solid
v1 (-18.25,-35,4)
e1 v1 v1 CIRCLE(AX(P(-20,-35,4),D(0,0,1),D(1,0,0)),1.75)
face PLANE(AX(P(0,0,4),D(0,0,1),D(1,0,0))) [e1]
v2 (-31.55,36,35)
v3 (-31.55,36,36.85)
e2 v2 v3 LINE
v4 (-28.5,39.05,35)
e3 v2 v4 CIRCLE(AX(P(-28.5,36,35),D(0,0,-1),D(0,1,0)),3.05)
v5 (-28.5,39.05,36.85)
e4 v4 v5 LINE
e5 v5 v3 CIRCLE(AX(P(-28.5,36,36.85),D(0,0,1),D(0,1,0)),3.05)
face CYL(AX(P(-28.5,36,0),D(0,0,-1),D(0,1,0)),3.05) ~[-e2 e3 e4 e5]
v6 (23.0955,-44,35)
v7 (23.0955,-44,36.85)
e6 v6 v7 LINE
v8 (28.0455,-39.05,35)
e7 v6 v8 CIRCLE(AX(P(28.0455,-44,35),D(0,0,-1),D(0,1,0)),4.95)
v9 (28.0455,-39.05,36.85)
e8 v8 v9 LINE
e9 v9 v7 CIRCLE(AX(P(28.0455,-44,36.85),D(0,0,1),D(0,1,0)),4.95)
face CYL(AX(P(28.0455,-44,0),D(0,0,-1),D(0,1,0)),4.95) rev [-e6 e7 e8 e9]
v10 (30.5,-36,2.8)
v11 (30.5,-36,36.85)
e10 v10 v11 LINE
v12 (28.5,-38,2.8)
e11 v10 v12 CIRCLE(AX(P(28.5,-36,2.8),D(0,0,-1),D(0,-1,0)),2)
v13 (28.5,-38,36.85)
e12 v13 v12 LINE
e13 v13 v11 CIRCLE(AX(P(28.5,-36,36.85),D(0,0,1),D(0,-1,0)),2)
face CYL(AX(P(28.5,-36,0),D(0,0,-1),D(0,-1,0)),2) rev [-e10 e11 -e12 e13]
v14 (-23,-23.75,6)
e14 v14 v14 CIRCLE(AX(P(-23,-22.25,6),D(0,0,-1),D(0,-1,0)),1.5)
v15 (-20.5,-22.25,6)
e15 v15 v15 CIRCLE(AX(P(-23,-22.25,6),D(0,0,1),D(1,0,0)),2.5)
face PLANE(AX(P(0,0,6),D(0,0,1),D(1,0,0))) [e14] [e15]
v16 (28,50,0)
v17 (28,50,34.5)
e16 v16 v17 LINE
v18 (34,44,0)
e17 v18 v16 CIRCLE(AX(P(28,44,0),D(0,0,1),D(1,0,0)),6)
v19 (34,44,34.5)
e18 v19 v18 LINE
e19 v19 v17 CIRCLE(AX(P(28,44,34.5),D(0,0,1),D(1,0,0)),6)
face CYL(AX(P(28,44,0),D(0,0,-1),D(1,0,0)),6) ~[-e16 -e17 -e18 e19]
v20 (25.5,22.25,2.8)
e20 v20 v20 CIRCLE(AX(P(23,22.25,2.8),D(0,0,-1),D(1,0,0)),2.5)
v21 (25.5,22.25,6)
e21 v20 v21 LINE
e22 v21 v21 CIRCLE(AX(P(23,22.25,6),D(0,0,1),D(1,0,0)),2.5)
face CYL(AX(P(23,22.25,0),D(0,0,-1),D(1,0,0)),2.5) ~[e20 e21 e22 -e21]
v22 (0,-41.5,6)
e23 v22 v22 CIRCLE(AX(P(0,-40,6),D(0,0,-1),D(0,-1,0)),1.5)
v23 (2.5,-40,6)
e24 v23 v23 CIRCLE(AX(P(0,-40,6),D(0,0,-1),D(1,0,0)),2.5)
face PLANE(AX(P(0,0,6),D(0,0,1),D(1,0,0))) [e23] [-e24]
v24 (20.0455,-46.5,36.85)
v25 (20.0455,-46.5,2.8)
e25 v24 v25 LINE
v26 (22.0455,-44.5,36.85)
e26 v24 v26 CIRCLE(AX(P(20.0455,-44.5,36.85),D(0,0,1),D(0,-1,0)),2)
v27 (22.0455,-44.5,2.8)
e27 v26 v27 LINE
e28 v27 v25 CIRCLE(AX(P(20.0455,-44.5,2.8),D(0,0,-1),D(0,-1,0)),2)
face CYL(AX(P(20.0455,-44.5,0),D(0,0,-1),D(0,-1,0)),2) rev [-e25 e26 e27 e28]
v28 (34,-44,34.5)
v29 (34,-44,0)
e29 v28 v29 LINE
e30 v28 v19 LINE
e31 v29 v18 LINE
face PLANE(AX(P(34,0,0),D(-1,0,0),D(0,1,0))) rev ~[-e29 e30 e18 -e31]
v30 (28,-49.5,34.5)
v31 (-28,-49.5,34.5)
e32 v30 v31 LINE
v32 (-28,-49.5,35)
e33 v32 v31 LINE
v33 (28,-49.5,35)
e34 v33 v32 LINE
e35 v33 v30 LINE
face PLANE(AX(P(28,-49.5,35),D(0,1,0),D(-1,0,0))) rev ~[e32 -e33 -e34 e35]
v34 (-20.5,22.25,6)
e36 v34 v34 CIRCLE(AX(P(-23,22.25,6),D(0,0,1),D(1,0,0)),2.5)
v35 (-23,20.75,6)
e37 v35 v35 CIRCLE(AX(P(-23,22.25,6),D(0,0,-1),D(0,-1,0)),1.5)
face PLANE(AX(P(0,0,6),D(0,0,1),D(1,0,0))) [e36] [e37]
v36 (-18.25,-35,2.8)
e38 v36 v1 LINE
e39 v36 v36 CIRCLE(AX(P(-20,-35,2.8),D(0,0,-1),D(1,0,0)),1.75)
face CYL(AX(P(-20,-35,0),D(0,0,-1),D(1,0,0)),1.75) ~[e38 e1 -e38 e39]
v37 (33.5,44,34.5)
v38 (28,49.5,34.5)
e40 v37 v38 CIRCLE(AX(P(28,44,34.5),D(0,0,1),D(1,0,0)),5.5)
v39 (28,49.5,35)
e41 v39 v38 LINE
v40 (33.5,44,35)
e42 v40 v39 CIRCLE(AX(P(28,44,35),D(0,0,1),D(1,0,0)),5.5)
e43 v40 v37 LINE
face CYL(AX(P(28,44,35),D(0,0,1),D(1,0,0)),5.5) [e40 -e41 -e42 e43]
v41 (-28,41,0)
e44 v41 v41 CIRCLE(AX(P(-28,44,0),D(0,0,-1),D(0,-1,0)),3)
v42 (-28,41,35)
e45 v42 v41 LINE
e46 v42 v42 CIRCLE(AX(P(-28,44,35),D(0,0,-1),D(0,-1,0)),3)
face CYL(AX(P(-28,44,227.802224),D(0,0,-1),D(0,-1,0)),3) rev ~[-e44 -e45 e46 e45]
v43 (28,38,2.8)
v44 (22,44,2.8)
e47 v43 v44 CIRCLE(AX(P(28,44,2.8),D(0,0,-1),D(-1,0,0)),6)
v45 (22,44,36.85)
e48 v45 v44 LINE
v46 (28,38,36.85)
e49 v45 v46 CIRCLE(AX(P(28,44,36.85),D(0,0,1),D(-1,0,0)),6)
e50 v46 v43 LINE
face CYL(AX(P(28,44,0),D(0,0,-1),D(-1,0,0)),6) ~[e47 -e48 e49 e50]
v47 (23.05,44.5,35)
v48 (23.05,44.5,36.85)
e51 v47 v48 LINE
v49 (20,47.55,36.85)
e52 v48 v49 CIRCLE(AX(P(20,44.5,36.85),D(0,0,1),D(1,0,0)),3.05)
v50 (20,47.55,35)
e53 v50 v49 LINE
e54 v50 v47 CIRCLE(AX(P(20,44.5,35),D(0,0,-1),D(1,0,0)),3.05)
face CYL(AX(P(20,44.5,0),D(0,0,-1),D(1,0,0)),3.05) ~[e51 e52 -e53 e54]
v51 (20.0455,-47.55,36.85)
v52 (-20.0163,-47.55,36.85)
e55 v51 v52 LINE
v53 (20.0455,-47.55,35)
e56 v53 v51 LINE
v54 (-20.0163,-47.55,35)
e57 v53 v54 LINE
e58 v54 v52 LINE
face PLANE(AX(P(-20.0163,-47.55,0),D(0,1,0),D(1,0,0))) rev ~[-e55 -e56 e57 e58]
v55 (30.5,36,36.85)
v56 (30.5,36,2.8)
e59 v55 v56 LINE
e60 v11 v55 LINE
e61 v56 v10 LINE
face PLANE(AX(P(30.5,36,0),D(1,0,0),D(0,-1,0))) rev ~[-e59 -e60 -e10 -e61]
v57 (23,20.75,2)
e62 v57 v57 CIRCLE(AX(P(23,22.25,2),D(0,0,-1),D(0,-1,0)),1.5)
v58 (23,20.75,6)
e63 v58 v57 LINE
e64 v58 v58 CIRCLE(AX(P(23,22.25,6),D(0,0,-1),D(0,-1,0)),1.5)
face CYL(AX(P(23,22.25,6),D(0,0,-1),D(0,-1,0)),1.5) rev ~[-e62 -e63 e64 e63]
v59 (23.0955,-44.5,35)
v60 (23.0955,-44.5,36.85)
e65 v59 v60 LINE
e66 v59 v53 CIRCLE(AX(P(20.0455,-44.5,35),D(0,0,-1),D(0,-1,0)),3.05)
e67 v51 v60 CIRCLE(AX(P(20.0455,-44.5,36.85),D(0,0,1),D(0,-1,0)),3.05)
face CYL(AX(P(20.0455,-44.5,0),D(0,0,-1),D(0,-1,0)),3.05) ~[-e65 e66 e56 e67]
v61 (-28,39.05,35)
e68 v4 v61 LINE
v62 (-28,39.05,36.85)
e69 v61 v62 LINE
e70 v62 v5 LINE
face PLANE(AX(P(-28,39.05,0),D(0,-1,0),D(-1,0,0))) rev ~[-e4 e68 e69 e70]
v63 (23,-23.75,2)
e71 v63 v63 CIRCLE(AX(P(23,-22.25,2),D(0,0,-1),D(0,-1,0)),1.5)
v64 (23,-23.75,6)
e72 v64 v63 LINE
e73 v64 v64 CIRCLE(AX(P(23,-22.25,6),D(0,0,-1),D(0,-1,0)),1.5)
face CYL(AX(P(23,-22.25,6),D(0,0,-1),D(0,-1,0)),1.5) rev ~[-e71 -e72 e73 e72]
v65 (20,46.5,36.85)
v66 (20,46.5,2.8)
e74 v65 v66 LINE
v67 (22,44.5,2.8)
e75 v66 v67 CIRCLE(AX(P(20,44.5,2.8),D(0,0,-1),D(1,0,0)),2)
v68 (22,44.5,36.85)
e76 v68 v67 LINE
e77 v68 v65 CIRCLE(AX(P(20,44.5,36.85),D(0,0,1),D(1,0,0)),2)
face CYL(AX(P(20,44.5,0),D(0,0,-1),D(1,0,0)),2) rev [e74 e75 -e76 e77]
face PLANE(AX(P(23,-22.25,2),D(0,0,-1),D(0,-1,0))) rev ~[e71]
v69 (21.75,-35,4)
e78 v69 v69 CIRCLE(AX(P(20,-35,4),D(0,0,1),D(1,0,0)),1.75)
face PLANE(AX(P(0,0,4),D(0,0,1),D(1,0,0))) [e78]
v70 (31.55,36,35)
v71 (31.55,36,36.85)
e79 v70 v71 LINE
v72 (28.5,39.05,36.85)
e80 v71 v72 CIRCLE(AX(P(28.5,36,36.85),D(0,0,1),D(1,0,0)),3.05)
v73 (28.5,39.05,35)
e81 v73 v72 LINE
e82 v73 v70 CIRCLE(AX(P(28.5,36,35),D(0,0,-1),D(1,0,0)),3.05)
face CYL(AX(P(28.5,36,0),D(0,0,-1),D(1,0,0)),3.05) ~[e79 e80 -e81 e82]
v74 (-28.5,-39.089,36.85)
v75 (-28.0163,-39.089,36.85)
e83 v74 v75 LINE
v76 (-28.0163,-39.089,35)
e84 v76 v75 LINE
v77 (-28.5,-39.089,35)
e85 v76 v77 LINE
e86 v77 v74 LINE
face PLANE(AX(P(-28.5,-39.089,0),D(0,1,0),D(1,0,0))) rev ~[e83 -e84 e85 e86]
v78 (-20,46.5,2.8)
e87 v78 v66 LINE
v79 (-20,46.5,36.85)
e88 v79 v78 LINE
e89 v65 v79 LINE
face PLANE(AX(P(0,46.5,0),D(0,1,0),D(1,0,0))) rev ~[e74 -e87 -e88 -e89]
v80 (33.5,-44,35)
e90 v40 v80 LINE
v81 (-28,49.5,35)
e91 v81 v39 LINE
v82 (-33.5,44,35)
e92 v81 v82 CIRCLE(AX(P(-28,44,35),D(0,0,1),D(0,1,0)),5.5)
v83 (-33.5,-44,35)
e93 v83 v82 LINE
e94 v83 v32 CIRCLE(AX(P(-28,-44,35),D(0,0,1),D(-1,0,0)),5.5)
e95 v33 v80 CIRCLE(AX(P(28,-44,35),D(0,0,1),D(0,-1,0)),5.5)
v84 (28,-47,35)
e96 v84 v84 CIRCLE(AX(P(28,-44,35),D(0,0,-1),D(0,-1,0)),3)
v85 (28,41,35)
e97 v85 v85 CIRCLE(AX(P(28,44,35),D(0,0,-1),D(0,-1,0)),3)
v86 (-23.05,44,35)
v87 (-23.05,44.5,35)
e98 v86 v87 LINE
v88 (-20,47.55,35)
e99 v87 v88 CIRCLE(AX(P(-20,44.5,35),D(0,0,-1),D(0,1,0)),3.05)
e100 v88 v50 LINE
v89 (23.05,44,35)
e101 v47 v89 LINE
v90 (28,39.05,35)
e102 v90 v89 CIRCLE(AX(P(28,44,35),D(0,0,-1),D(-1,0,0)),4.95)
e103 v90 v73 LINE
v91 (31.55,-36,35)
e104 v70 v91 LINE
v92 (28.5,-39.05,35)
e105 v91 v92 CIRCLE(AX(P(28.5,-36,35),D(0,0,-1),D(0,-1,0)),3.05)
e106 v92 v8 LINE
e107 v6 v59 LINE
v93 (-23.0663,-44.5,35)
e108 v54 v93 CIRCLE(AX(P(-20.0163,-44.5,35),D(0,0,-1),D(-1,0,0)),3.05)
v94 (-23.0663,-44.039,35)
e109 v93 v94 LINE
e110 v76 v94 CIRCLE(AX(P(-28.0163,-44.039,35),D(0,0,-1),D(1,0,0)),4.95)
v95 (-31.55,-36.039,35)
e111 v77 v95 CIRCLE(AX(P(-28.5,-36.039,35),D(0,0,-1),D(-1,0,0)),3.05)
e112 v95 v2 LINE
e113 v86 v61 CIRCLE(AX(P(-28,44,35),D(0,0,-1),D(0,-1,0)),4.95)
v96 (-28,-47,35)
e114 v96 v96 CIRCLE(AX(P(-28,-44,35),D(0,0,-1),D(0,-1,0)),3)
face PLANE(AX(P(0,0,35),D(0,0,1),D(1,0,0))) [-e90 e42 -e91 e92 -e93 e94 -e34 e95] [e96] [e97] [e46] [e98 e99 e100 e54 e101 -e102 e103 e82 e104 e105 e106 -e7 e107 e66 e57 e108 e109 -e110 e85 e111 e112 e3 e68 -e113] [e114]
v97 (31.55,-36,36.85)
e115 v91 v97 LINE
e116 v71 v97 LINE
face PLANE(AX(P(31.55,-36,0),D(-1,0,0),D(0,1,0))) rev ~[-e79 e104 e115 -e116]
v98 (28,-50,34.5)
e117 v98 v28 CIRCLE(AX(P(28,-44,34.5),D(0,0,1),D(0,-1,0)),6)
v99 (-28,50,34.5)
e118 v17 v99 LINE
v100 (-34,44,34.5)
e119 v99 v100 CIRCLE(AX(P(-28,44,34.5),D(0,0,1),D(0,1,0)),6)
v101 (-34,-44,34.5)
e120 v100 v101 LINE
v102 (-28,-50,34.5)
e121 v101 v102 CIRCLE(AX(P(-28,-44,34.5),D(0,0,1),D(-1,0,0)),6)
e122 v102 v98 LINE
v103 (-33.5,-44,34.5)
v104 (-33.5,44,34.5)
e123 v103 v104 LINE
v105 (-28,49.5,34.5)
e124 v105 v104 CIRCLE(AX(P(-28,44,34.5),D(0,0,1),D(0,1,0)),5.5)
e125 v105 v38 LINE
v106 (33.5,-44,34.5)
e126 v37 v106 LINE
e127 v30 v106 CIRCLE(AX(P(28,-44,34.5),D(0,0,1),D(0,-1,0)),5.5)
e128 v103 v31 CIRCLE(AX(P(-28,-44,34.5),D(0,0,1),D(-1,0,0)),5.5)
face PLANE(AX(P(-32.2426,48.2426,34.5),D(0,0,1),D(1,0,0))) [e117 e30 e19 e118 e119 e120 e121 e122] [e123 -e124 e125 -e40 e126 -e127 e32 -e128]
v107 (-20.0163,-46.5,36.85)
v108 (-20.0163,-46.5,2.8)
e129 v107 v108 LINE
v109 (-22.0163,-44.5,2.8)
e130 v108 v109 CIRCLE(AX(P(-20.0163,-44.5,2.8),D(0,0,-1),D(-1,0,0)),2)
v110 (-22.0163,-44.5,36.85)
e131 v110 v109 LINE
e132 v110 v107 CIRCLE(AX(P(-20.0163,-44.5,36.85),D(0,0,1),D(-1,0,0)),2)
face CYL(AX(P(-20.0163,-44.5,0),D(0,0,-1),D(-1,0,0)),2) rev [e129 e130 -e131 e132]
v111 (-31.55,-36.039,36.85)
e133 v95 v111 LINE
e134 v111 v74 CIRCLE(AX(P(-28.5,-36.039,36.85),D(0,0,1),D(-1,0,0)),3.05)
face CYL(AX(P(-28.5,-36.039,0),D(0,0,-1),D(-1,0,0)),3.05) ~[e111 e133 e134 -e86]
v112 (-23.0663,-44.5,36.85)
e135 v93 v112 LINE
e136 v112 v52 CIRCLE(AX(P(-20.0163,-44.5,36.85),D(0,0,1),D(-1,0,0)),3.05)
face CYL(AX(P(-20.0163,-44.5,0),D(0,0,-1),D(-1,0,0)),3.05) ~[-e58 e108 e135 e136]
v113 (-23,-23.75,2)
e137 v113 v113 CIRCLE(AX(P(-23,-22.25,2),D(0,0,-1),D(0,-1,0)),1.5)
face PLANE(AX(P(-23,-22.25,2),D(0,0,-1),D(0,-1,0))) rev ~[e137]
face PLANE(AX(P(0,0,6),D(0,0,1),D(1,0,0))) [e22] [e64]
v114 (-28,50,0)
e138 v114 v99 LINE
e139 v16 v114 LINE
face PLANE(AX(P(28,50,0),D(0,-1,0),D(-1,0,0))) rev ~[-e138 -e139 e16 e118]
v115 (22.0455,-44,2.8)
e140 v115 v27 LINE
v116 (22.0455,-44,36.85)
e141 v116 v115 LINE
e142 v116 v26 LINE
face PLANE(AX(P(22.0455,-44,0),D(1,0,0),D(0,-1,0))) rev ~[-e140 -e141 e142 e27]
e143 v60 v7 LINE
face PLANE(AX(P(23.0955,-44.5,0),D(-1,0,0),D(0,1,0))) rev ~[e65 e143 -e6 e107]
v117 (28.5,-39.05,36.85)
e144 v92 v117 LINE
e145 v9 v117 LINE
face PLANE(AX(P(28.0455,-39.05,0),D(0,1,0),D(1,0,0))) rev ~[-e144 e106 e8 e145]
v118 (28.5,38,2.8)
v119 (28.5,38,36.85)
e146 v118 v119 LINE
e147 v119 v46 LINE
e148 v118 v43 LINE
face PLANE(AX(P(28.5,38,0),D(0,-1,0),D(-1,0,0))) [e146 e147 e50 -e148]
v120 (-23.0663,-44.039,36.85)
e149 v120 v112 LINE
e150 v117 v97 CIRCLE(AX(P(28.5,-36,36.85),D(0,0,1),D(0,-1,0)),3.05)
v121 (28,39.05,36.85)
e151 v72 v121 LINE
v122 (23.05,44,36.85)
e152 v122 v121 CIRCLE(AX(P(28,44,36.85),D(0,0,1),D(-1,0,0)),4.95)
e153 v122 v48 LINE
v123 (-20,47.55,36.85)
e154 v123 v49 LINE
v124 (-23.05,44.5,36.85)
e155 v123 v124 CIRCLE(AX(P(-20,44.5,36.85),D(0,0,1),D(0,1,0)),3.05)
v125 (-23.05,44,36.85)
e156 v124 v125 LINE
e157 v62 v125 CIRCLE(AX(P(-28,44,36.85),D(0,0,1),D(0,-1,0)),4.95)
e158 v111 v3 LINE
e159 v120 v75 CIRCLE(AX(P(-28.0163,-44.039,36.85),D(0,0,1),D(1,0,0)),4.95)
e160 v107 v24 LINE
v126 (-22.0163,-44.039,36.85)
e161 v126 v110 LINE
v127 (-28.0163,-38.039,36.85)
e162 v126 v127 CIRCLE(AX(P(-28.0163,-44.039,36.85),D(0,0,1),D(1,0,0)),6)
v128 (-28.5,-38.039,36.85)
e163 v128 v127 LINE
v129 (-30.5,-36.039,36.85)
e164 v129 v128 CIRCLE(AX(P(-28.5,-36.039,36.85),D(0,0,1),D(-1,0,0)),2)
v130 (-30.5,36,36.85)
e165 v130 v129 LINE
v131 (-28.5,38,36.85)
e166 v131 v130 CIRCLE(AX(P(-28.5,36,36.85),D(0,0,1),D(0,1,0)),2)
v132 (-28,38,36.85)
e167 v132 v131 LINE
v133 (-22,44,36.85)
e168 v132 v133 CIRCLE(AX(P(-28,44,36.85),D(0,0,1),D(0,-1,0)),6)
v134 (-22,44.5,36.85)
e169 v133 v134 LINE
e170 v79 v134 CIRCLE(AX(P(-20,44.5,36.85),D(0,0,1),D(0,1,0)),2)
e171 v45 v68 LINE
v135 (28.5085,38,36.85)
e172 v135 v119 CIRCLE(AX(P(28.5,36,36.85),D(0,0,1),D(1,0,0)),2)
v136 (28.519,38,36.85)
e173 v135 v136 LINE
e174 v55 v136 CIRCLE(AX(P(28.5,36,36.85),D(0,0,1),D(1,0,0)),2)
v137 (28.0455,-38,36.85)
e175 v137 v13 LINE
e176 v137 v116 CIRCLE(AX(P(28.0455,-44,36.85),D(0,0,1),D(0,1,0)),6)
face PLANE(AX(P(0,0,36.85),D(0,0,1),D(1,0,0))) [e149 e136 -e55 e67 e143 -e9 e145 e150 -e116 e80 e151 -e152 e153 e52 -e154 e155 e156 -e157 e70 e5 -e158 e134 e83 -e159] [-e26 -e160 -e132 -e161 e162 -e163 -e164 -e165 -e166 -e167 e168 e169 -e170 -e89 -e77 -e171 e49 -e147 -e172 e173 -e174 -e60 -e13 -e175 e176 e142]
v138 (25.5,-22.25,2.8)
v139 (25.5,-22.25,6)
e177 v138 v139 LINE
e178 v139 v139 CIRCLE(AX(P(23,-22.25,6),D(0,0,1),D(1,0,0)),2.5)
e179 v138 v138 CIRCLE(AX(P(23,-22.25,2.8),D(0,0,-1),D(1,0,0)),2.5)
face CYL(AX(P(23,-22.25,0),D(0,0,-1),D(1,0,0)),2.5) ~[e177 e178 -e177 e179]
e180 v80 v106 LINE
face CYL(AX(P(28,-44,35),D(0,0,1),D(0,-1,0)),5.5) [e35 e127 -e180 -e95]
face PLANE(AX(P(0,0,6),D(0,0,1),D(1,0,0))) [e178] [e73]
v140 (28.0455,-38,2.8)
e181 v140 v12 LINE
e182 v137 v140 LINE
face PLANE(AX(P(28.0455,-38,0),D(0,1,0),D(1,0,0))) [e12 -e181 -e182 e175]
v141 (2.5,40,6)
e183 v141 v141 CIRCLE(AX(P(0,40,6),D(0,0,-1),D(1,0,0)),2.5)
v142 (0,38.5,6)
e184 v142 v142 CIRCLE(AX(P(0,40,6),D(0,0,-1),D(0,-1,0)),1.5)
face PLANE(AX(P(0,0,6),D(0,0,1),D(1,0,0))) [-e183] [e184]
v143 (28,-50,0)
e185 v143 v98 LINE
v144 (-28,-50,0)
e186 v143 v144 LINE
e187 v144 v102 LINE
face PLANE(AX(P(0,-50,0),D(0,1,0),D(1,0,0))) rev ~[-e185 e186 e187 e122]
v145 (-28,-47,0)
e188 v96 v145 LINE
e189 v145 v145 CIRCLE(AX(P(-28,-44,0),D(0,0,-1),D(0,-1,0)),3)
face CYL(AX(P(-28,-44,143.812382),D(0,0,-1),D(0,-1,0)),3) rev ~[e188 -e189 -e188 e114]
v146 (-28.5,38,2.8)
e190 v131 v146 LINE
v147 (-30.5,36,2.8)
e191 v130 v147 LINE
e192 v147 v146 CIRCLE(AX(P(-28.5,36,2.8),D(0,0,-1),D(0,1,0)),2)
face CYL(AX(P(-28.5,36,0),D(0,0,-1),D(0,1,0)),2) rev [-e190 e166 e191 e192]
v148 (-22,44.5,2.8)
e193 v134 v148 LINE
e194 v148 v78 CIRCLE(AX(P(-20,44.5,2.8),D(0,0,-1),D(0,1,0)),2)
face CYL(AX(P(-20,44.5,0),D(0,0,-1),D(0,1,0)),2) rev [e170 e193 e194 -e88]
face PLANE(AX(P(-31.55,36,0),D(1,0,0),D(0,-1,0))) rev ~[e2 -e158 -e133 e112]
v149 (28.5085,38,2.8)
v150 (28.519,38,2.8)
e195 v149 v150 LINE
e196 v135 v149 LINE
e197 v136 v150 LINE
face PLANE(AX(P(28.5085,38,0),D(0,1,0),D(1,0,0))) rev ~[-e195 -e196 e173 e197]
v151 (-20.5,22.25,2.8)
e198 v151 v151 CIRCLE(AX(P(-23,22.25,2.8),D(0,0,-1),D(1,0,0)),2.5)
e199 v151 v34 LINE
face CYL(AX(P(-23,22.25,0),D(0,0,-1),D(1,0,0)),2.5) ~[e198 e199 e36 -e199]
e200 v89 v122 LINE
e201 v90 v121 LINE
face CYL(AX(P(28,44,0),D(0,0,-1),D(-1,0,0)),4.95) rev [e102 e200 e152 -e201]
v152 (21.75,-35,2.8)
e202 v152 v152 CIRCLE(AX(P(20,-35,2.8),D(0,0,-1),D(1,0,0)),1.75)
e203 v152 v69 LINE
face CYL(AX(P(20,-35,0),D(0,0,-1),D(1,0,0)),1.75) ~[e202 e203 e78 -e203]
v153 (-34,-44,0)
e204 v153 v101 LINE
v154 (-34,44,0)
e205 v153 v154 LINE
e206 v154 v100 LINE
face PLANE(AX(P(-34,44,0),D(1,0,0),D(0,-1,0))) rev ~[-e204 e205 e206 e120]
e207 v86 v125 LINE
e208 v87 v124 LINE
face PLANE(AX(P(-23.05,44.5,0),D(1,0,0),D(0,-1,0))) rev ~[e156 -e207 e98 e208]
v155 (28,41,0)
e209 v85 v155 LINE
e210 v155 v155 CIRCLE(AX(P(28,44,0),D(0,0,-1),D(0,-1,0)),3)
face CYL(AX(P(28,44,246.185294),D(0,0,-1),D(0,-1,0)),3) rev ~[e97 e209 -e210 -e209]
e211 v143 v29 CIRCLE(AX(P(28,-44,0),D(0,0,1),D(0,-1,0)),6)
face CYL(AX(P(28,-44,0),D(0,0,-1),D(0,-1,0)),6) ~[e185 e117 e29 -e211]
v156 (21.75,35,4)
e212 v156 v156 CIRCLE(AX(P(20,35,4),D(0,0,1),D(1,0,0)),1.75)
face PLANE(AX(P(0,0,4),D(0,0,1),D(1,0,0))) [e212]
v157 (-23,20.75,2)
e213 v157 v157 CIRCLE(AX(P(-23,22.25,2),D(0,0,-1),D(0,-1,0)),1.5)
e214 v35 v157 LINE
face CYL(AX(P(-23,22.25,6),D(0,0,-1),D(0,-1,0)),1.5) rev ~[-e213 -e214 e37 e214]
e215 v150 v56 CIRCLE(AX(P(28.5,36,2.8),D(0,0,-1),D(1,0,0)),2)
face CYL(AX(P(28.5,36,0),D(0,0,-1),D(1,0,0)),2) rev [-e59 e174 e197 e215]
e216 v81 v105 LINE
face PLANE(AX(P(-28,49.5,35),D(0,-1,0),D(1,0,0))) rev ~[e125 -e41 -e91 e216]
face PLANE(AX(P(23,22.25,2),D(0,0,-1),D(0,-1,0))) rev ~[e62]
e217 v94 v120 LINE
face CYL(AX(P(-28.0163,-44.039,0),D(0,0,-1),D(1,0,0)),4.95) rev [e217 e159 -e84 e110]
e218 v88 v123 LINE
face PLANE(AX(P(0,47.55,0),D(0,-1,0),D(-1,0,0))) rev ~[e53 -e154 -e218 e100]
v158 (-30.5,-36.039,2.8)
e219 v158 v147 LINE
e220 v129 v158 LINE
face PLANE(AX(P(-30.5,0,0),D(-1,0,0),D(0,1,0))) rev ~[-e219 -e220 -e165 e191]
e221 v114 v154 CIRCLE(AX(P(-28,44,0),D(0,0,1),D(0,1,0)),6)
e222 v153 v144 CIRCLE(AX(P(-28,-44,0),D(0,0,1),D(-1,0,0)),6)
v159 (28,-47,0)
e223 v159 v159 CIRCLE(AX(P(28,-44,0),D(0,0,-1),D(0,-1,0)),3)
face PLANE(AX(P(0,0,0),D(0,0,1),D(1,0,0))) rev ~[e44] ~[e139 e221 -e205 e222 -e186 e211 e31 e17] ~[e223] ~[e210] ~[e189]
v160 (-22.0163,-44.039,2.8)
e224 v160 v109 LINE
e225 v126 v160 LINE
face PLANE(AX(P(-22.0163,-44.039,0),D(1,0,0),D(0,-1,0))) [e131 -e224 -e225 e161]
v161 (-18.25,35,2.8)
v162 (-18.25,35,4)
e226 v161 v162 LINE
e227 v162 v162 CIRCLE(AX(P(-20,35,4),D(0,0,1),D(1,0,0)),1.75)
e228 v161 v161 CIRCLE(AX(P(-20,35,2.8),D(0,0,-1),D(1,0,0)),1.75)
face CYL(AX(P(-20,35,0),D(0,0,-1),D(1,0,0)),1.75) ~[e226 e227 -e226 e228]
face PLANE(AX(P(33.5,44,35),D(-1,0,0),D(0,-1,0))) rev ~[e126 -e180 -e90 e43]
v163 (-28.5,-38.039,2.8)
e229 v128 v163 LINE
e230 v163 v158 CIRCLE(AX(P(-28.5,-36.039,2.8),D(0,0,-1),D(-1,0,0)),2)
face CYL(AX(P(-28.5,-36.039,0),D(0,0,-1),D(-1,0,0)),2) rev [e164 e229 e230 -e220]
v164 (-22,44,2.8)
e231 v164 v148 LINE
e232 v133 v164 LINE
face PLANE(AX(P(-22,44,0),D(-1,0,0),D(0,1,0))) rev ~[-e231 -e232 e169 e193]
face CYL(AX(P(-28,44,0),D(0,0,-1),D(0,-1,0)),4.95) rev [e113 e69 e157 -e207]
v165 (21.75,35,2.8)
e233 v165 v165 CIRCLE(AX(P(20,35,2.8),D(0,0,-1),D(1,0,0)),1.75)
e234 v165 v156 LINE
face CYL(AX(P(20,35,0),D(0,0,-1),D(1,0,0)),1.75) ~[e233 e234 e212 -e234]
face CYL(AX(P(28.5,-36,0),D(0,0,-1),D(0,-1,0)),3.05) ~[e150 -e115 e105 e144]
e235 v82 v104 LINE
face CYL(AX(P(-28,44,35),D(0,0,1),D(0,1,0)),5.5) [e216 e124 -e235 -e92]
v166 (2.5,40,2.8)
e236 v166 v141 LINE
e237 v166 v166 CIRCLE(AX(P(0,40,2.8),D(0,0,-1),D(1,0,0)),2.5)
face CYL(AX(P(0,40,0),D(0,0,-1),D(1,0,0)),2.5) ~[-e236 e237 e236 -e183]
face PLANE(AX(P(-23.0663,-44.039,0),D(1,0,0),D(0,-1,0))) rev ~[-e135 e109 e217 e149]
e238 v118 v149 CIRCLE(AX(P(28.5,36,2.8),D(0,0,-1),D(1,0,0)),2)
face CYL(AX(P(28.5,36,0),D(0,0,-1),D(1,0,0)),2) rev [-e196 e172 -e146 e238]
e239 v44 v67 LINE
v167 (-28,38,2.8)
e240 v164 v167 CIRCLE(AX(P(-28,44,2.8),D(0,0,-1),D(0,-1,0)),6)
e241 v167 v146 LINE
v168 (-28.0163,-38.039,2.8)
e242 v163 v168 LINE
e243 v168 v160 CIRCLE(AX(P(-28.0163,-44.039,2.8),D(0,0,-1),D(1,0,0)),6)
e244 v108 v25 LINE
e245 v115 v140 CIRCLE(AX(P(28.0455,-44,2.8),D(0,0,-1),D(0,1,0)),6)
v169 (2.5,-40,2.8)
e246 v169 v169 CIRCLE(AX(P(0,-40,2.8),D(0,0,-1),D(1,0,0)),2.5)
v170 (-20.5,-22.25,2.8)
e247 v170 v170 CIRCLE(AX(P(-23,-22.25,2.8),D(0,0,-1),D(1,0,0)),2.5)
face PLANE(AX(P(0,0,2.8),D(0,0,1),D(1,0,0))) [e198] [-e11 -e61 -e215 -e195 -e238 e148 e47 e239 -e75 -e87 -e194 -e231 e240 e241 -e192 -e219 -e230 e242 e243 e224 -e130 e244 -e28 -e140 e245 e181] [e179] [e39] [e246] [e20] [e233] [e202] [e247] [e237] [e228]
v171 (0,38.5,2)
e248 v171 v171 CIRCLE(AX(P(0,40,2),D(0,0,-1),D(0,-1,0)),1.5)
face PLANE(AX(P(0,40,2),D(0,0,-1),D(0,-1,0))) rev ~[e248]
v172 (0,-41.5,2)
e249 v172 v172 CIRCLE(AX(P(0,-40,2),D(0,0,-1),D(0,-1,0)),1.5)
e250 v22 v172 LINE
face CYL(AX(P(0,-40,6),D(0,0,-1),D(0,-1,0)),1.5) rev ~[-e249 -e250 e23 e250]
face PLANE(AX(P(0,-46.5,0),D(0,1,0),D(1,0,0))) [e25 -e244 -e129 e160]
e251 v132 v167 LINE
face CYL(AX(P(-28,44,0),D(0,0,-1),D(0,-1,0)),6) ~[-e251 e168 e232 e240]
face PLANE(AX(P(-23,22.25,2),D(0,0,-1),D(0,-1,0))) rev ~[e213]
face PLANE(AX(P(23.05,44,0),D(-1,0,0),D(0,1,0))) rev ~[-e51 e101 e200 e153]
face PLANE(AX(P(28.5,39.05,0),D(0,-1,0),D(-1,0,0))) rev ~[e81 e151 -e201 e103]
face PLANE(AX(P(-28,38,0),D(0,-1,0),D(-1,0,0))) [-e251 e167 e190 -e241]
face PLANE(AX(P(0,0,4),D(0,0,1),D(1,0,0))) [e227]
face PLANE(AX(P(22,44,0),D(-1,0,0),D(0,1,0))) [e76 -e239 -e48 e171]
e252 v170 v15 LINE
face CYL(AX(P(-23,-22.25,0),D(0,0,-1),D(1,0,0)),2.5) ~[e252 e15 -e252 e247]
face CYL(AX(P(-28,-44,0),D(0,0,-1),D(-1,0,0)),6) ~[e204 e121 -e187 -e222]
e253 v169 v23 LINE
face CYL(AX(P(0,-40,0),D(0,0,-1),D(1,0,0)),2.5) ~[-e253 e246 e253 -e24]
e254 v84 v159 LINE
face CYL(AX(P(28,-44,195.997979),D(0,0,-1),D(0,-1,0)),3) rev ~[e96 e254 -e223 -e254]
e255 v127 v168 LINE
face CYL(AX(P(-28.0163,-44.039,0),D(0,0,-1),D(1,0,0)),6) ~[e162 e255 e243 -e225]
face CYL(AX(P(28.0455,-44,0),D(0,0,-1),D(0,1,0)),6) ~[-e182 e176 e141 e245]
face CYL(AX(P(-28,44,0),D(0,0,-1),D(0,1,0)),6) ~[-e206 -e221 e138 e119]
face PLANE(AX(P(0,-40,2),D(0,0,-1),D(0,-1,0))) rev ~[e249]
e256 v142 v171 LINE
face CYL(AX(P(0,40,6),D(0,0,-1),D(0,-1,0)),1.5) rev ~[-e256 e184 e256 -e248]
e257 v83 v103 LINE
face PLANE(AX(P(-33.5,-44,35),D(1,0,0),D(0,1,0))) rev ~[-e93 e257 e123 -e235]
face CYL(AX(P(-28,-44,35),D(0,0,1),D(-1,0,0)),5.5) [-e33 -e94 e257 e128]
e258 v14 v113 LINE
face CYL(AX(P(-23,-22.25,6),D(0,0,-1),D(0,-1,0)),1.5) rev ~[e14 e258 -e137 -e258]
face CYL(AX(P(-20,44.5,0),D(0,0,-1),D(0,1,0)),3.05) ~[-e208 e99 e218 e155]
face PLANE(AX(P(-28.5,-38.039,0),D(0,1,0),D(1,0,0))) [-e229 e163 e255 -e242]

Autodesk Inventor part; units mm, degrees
ref_plane "YZ Plane" through (0, 0, 0) normal (1, 0, 0) x (0, 1, 0)
ref_plane "XZ Plane" through (0, 0, 0) normal (0, 1, 0) x (-1, 0, 0)
ref_plane "XY Plane" through (0, 0, 0) normal (0, 0, 1) x (1, 0, 0)
sketch "Drawing" plane through (0, 0, 0) normal (0, 0, 1) x (1, 0, 0)
  line L0 (-58.5227, 93.5052) -> (128.141, 93.5052) construction
  line L1 (128.141, 93.5052) -> (128.141, -71.3811) construction
  line L2 (128.141, -71.3811) -> (-58.5227, -71.3811) construction
  line L3 (-58.5227, -71.3811) -> (-58.5227, 93.5052) construction
  line L4 (-58.5227, 93.5052) -> (-58.5227, 50)
  line L5 (-54.9683, 50) -> (-54.9683, -50)
  line L6 (-58.5227, 50) -> (-54.9683, 50)
  line L7 (0, 0) -> (-54.9683, 0) construction
  line L8 (0, 0) -> (0, 93.5052) construction
  line L9 (0, 93.5052) -> (0, -71.3811)
  line L10 (-58.5227, 0) -> (128.141, 0)
  circle A0 centre (23, 22.25) radius 2.5
  circle A1 centre (23, 22.25) radius 1.5
  circle A2 centre (20, 35) radius 1.75
  dimension "d16" = 164.8863
  dimension "d20" = 3.5544
  dimension "d21" = 100
  dimension "d22" = 43.5052
  dimension "d48" = 5
  dimension "d49" = 1
  dimension "d50" = 3.5
sketch "Sketch2" plane through (0, 0, 0) normal (0, 0, 1) x (1, 0, 0)
  line L0 (28, 50) -> (-28, 50)
  line L1 (-34, 44) -> (-34, -44)
  line L2 (-28, -50) -> (28, -50)
  line L3 (34, -44) -> (34, 44)
  line L4 (34, 50) -> (-34, -50) construction
  line L5 (-34, 50) -> (34, -50) construction
  arc A0 (-28, 50) -> (-34, 44) centre (-28, 44) ccw
  arc A1 (34, 44) -> (28, 50) centre (28, 44) ccw
  arc A2 (-34, -44) -> (-28, -50) centre (-28, -44) ccw
  arc A3 (28, -50) -> (34, -44) centre (28, -44) ccw
  line L6 (28.5085, 38) -> (28.519, 38)
  line L7 (28.0455, -38) -> (28.5, -38)
  line L8 (-58.5227, 0) -> (128.141, 0) projected
  line L9 (0, 0) -> (0, 93.5052) construction
  line L10 (0, 93.5052) -> (0, -71.3811) projected
  line L11 (22, 44) -> (22, 44.5)
  line L12 (30.5, 36) -> (30.5, -36)
  line L13 (22.0455, -44) -> (22.0455, -44.5)
  line L14 (-22.0163, -44.039) -> (-22.0163, -44.5)
  line L15 (-30.5, -36.039) -> (-30.5, 36)
  line L16 (-22, 44) -> (-22, 44.5)
  arc A4 (-28, 38) -> (-22, 44) centre (-28, 44) ccw
  arc A5 (22, 44) -> (28, 38) centre (28, 44) ccw
  arc A6 (28.0455, -38) -> (22.0455, -44) centre (28.0455, -44) ccw
  arc A7 (-22.0163, -44.039) -> (-28.0163, -38.039) centre (-28.0163, -44.039) ccw
  arc A8 (-22.0163, -44.5) -> (-20.0163, -46.5) centre (-20.0163, -44.5) ccw
  arc A9 (-30.5, -36.039) -> (-28.5, -38.039) centre (-28.5, -36.039) ccw
  arc A10 (20.0455, -46.5) -> (22.0455, -44.5) centre (20.0455, -44.5) ccw
  arc A11 (28.5, -38) -> (30.5, -36) centre (28.5, -36) ccw
  arc A12 (30.5, 36) -> (28.5, 38) centre (28.5, 36) ccw
  arc A13 (22, 44.5) -> (20, 46.5) centre (20, 44.5) ccw
  arc A14 (-28.5, 38) -> (-30.5, 36) centre (-28.5, 36) ccw
  arc A15 (-20, 46.5) -> (-22, 44.5) centre (-20, 44.5) ccw
  circle A16 centre (23, 22.25) radius 2.5
  circle A17 centre (23, 22.25) radius 1.5
  circle A18 centre (20, 35) radius 1.75
  circle A19 centre (-23, 22.25) radius 2.5
  circle A20 centre (-23, 22.25) radius 1.5
  circle A21 centre (-20, 35) radius 1.75
  circle A22 centre (23, -22.25) radius 2.5
  circle A23 centre (23, -22.25) radius 1.5
  circle A24 centre (20, -35) radius 1.75
  circle A25 centre (-20, -35) radius 1.75
  circle A26 centre (-23, -22.25) radius 2.5
  circle A27 centre (-23, -22.25) radius 1.5
  circle A28 centre (-28, 44) radius 2
  circle A29 centre (28, 44) radius 2
  circle A30 centre (-28, -44) radius 2
  circle A31 centre (28, -44) radius 2
  circle A32 centre (0, 40) radius 2.5
  circle A33 centre (0, 40) radius 1.5
  circle A34 centre (0, -40) radius 2.5
  circle A35 centre (0, -40) radius 1.5
  line L17 (-20.0163, -46.5) -> (20.0455, -46.5)
  line L18 (22, 44.4601) -> (22, 44)
  line L19 (-28, 38) -> (-28.5, 38)
  line L20 (-20, 46.5) -> (20, 46.5)
  line L21 (-28.5, -38.039) -> (-28.5, -38.039)
  line L22 (28.5, 38) -> (28, 38)
  line L23 (-28.493, -38.1054) -> (-28.493, -38.1054)
  line L24 (-28.5, -38.039) -> (-28.0163, -38.039)
  line L25 (23.05, 44) -> (23.05, 44.5)
  arc A36 (23.05, 44.5) -> (20, 47.55) centre (20, 44.5) ccw
  line L26 (20, 47.55) -> (-20, 47.55)
  arc A37 (-20, 47.55) -> (-23.05, 44.5) centre (-20, 44.5) ccw
  line L27 (-23.05, 44.5) -> (-23.05, 44)
  arc A38 (-28, 39.05) -> (-23.05, 44) centre (-28, 44) ccw
  line L28 (-28, 39.05) -> (-28.5, 39.05)
  arc A39 (-28.5, 39.05) -> (-31.55, 36) centre (-28.5, 36) ccw
  line L29 (-31.55, 36) -> (-31.55, -36.039)
  arc A40 (-31.55, -36.039) -> (-28.5, -39.089) centre (-28.5, -36.039) ccw
  line L30 (-28.5, -39.089) -> (-28.0163, -39.089)
  arc A41 (-23.0663, -44.039) -> (-28.0163, -39.089) centre (-28.0163, -44.039) ccw
  line L31 (-23.0663, -44.039) -> (-23.0663, -44.5)
  arc A42 (-23.0663, -44.5) -> (-20.0163, -47.55) centre (-20.0163, -44.5) ccw
  line L32 (-20.0163, -47.55) -> (20.0455, -47.55)
  arc A43 (20.0455, -47.55) -> (23.0955, -44.5) centre (20.0455, -44.5) ccw
  line L33 (23.0955, -44.5) -> (23.0955, -44)
  arc A44 (28.0455, -39.05) -> (23.0955, -44) centre (28.0455, -44) ccw
  line L34 (28.0455, -39.05) -> (28.5, -39.05)
  arc A45 (28.5, -39.05) -> (31.55, -36) centre (28.5, -36) ccw
  line L35 (31.55, -36) -> (31.55, 36)
  arc A46 (31.55, 36) -> (28.5, 39.05) centre (28.5, 36) ccw
  line L36 (28.5, 39.05) -> (28, 39.05)
  arc A47 (23.05, 44) -> (28, 39.05) centre (28, 44) ccw
  line L37 (-33.5, -44) -> (-33.5, 44)
  arc A48 (-28, 49.5) -> (-33.5, 44) centre (-28, 44) ccw
  line L38 (-28, 49.5) -> (28, 49.5)
  arc A49 (33.5, 44) -> (28, 49.5) centre (28, 44) ccw
  line L39 (33.5, 44) -> (33.5, -44)
  arc A50 (28, -49.5) -> (33.5, -44) centre (28, -44) ccw
  line L40 (28, -49.5) -> (-28, -49.5)
  arc A51 (-33.5, -44) -> (-28, -49.5) centre (-28, -44) ccw
  point P0 (-34, 38)
  point P1 (34, 38)
  point P2 (-34, -38)
  point P3 (34, -38)
  point P4 (22, 50)
  point P5 (22, -50)
  point P6 (-34, 46.5)
  point P7 (34, -46.5)
  dimension "OuterWidth" = 68
  dimension "OuterLength" = 100
  dimension "d26" = 6
  dimension "d27" = 6
  dimension "d29" = 6
  dimension "d34" = 6
  dimension "d36" = 2
  dimension "d37" = 6
  dimension "d38" = 6
  dimension "d39" = 6
  dimension "d40" = 6
  dimension "d41" = 11
  dimension "d42" = 27.75
  dimension "d43" = 5
  dimension "d44" = 1
  dimension "d45" = 3.5
  dimension "d46" = 15
  dimension "d47" = 14
  dimension "d52" = 4
  dimension "d53" = 5
  dimension "d54" = 1
  dimension "d55" = 10
  dimension "d56" = 3.5
  dimension "d57" = 3.5
  dimension "d58" = 3.5
  dimension "d59" = 3.5
  dimension "d60" = 6
  dimension "d61" = 6
  dimension "d62" = 6
  dimension "d63" = 6
  dimension "d67" = 1.05
  dimension "d68" = 1.05
  dimension "d86" = 0.5
extrude "SideWalls" add sketch "Sketch2" along normal blind 35 contours A1 L3 L8 L39 A49 L38 L10 L0 | L10 L38 A48 L37 L8 L1 A0 L0 | L38 A49 L39 L8 L35 A46 L36 A47 L25 A36 L26 L10 | L10 L26 A37 L27 A38 L28 A39 L29 L8 L37 A48 L38 | L3 A3 L2 L10 L40 A50 L39 L8 | L26 A36 L25 A47 L36 A46 L35 L8 L12 A12 L6 L22 A5 L11 A13 L20 L10 | L10 L20 A15 L16 A4 L19 A14 L15 L8 L29 A39 L28 A38 L27 A37 L26 | L39 A50 L40 L10 L32 A43 L33 A44 L34 A45 L35 L8 | L8 L37 A51 L40 L10 L2 A2 L1 | L35 A45 L34 A44 L33 A43 L32 L10 L17 A10 L13 A6 L7 A11 L12 L8 | L8 L29 A40 L30 A41 L31 A42 L32 L10 L40 A51 L37 | L8 L15 A9 L24 A7 L14 A8 L17 L10 L32 A42 L31 A41 L30 A40 L29
extrude "GasketRingLower" add sketch "Sketch2" along normal blind 36.85 contours L26 A36 L25 A47 L36 A46 L35 L8 L12 A12 L6 L22 A5 L11 A13 L20 L10 | L10 L20 A15 L16 A4 L19 A14 L15 L8 L29 A39 L28 A38 L27 A37 L26 | L35 A45 L34 A44 L33 A43 L32 L10 L17 A10 L13 A6 L7 A11 L12 L8 | L8 L15 A9 L24 A7 L14 A8 L17 L10 L32 A42 L31 A41 L30 A40 L29
extrude "Bottom" add sketch "Sketch2" along normal blind 2.8 contours A1 L3 L8 L39 A49 L38 L10 L0 | L10 L38 A48 L37 L8 L1 A0 L0 | L38 A49 L39 L8 L35 A46 L36 A47 L25 A36 L26 L10 | L10 L26 A37 L27 A38 L28 A39 L29 L8 L37 A48 L38 | L3 A3 L2 L10 L40 A50 L39 L8 | L26 A36 L25 A47 L36 A46 L35 L8 L12 A12 L6 L22 A5 L11 A13 L20 L10 | L10 L20 A15 L16 A4 L19 A14 L15 L8 L29 A39 L28 A38 L27 A37 L26 | L39 A50 L40 L10 L32 A43 L33 A44 L34 A45 L35 L8 | L8 L37 A51 L40 L10 L2 A2 L1 | L20 A13 L11 A5 L22 A12 L6 L12 L8 L10 A32 | L10 A32 L8 L15 A14 L19 A4 L16 A15 L20 | L35 A45 L34 A44 L33 A43 L32 L10 L17 A10 L13 A6 L7 A11 L12 L8 | L8 L29 A40 L30 A41 L31 A42 L32 L10 L40 A51 L37 | A32 L10 A33 | L10 A33 A32 | L12 A11 L7 A6 L13 A10 L17 L10 A34 L8 | L8 L15 A9 L24 A7 L14 A8 L17 L10 L32 A42 L31 A41 L30 A40 L29 | A33 L10 | L10 A33 | L10 A34 L17 A8 L14 A7 L24 A9 L15 L8 | A34 L10 A35 | L10 A35 A34 | A35 L10 | L10 A35 | A16 | A17 | A18 | A19 | A20 | A21 | A22 | A23 | A24 | A25 | A26 | A27 | A28 | A29 | A30 | A31
extrude "PEMStuds" add sketch "Sketch2" along normal blind 6 contours A32 L10 A33 | L10 A33 A32 | A33 L10 | L10 A33 | A34 L10 A35 | L10 A35 A34 | A35 L10 | L10 A35 | A16 | A17 | A19 | A20 | A22 | A23 | A26 | A27
extrude "SmallerSupports" add sketch "Sketch2" along normal blind 4 contours A18 | A21 | A24 | A25
sketch "Sketch4" plane through (-23, -22.25, 6) normal (0, 0, 1) x (1, 0, 0)
  circle A0 centre (23, -17.75) radius 2.5 projected
  circle A1 centre (46, 0) radius 2.5 projected
  circle A2 centre (23, 62.25) radius 2.5 projected
  circle A3 centre (0, 0) radius 2.5 projected
  circle A4 centre (46, 44.5) radius 2.5 projected
  circle A5 centre (-5, -21.75) radius 2 projected
  circle A6 centre (51, -21.75) radius 2 projected
  circle A7 centre (-5, 66.25) radius 2 projected
  circle A8 centre (51, 66.25) radius 2 projected
  circle A9 centre (0, 44.5) radius 2.5 projected
  point P0 (23, 22.25)
  dimension "d101" = 17.75
  dimension "d102" = 23
hole "PEMStudHoles" at (0, -40, 6) at (23, -22.25, 6) at (0, 40, 6) at (-23, -22.25, 6) at (23, 22.25, 6) at (-23, 22.25, 6) direction (0, 0, -1) diameter 3 depth 4
hole "Hole2" at (28, 44, 6) at (-28, 44, 6) at (-28, -44, 6) at (28, -44, 6) direction (0, 0, -1) diameter 6 end through all both
ref_plane "Work Plane2" through (-32.2426, 48.2426, 35) normal (0, 0, 1) x (1, 0, 0)
sketch "Sketch6" plane through (-32.2426, 48.2426, 35) normal (0, 0, 1) x (1, 0, 0)
  line L0 (-1.2574, -92.2426) -> (-1.2574, -4.2426) projected
  arc A0 (4.2426, 1.2574) -> (-1.2574, -4.2426) centre (4.2426, -4.2426) ccw projected
  line L1 (4.2426, 1.2574) -> (60.2426, 1.2574) projected
  arc A1 (65.7426, -4.2426) -> (60.2426, 1.2574) centre (60.2426, -4.2426) ccw projected
  line L2 (65.7426, -4.2426) -> (65.7426, -92.2426) projected
  arc A2 (60.2426, -97.7426) -> (65.7426, -92.2426) centre (60.2426, -92.2426) ccw projected
  line L3 (60.2426, -97.7426) -> (4.2426, -97.7426) projected
  arc A3 (-1.2574, -92.2426) -> (4.2426, -97.7426) centre (4.2426, -92.2426) ccw projected
  line L4 (-1.7574, -4.2426) -> (-1.7574, -92.2426)
  arc A4 (-1.7574, -92.2426) -> (4.2426, -98.2426) centre (4.2426, -92.2426) ccw
  line L5 (4.2426, -98.2426) -> (60.2426, -98.2426)
  arc A5 (60.2426, -98.2426) -> (66.2426, -92.2426) centre (60.2426, -92.2426) ccw
  line L6 (66.2426, -92.2426) -> (66.2426, -4.2426)
  arc A6 (66.2426, -4.2426) -> (60.2426, 1.7574) centre (60.2426, -4.2426) ccw
  line L7 (60.2426, 1.7574) -> (4.2426, 1.7574)
  arc A7 (4.2426, 1.7574) -> (-1.7574, -4.2426) centre (4.2426, -4.2426) ccw
  line L8 (4.2426, 1.2574) -> (60.2426, 1.2574)
  arc A8 (65.7426, -4.2426) -> (60.2426, 1.2574) centre (60.2426, -4.2426) ccw
  line L9 (65.7426, -4.2426) -> (65.7426, -92.2426)
  arc A9 (60.2426, -97.7426) -> (65.7426, -92.2426) centre (60.2426, -92.2426) ccw
  line L10 (60.2426, -97.7426) -> (4.2426, -97.7426)
  arc A10 (-1.2574, -92.2426) -> (4.2426, -97.7426) centre (4.2426, -92.2426) ccw
  line L11 (-1.2574, -92.2426) -> (-1.2574, -4.2426)
  arc A11 (4.2426, 1.2574) -> (-1.2574, -4.2426) centre (4.2426, -4.2426) ccw
  point P0 (32.2426, -48.2426)
  dimension "d97" = 0.5
  dimension "d98" = 0.5
extrude "Extrusion8" cut sketch "Sketch6" against normal blind 0.5
equation "\"d16\" = 280.458 * ImageScale"
equation "\"d20\" = 6.04577 * ImageScale"
equation "\"d21\" = 170.092 * ImageScale"
equation "\"d22\" = 73.9989 * ImageScale"
equation "\"d26\" = OuterFillet"
equation "\"d27\" = OuterFillet"
equation "\"d29\" = OuterFillet"
equation "\"d37\" = OuterFillet"
equation "\"d38\" = OuterFillet"
equation "\"d39\" = OuterFillet"
equation "\"d40\" = OuterFillet"
equation "\"ImageScale\" = 0.587917"
equation "\"WallThickness\" = 3.5"
equation "\"OuterFillet\" = 6"
properties part number "PinfoxBox" material "Polypropylene"
